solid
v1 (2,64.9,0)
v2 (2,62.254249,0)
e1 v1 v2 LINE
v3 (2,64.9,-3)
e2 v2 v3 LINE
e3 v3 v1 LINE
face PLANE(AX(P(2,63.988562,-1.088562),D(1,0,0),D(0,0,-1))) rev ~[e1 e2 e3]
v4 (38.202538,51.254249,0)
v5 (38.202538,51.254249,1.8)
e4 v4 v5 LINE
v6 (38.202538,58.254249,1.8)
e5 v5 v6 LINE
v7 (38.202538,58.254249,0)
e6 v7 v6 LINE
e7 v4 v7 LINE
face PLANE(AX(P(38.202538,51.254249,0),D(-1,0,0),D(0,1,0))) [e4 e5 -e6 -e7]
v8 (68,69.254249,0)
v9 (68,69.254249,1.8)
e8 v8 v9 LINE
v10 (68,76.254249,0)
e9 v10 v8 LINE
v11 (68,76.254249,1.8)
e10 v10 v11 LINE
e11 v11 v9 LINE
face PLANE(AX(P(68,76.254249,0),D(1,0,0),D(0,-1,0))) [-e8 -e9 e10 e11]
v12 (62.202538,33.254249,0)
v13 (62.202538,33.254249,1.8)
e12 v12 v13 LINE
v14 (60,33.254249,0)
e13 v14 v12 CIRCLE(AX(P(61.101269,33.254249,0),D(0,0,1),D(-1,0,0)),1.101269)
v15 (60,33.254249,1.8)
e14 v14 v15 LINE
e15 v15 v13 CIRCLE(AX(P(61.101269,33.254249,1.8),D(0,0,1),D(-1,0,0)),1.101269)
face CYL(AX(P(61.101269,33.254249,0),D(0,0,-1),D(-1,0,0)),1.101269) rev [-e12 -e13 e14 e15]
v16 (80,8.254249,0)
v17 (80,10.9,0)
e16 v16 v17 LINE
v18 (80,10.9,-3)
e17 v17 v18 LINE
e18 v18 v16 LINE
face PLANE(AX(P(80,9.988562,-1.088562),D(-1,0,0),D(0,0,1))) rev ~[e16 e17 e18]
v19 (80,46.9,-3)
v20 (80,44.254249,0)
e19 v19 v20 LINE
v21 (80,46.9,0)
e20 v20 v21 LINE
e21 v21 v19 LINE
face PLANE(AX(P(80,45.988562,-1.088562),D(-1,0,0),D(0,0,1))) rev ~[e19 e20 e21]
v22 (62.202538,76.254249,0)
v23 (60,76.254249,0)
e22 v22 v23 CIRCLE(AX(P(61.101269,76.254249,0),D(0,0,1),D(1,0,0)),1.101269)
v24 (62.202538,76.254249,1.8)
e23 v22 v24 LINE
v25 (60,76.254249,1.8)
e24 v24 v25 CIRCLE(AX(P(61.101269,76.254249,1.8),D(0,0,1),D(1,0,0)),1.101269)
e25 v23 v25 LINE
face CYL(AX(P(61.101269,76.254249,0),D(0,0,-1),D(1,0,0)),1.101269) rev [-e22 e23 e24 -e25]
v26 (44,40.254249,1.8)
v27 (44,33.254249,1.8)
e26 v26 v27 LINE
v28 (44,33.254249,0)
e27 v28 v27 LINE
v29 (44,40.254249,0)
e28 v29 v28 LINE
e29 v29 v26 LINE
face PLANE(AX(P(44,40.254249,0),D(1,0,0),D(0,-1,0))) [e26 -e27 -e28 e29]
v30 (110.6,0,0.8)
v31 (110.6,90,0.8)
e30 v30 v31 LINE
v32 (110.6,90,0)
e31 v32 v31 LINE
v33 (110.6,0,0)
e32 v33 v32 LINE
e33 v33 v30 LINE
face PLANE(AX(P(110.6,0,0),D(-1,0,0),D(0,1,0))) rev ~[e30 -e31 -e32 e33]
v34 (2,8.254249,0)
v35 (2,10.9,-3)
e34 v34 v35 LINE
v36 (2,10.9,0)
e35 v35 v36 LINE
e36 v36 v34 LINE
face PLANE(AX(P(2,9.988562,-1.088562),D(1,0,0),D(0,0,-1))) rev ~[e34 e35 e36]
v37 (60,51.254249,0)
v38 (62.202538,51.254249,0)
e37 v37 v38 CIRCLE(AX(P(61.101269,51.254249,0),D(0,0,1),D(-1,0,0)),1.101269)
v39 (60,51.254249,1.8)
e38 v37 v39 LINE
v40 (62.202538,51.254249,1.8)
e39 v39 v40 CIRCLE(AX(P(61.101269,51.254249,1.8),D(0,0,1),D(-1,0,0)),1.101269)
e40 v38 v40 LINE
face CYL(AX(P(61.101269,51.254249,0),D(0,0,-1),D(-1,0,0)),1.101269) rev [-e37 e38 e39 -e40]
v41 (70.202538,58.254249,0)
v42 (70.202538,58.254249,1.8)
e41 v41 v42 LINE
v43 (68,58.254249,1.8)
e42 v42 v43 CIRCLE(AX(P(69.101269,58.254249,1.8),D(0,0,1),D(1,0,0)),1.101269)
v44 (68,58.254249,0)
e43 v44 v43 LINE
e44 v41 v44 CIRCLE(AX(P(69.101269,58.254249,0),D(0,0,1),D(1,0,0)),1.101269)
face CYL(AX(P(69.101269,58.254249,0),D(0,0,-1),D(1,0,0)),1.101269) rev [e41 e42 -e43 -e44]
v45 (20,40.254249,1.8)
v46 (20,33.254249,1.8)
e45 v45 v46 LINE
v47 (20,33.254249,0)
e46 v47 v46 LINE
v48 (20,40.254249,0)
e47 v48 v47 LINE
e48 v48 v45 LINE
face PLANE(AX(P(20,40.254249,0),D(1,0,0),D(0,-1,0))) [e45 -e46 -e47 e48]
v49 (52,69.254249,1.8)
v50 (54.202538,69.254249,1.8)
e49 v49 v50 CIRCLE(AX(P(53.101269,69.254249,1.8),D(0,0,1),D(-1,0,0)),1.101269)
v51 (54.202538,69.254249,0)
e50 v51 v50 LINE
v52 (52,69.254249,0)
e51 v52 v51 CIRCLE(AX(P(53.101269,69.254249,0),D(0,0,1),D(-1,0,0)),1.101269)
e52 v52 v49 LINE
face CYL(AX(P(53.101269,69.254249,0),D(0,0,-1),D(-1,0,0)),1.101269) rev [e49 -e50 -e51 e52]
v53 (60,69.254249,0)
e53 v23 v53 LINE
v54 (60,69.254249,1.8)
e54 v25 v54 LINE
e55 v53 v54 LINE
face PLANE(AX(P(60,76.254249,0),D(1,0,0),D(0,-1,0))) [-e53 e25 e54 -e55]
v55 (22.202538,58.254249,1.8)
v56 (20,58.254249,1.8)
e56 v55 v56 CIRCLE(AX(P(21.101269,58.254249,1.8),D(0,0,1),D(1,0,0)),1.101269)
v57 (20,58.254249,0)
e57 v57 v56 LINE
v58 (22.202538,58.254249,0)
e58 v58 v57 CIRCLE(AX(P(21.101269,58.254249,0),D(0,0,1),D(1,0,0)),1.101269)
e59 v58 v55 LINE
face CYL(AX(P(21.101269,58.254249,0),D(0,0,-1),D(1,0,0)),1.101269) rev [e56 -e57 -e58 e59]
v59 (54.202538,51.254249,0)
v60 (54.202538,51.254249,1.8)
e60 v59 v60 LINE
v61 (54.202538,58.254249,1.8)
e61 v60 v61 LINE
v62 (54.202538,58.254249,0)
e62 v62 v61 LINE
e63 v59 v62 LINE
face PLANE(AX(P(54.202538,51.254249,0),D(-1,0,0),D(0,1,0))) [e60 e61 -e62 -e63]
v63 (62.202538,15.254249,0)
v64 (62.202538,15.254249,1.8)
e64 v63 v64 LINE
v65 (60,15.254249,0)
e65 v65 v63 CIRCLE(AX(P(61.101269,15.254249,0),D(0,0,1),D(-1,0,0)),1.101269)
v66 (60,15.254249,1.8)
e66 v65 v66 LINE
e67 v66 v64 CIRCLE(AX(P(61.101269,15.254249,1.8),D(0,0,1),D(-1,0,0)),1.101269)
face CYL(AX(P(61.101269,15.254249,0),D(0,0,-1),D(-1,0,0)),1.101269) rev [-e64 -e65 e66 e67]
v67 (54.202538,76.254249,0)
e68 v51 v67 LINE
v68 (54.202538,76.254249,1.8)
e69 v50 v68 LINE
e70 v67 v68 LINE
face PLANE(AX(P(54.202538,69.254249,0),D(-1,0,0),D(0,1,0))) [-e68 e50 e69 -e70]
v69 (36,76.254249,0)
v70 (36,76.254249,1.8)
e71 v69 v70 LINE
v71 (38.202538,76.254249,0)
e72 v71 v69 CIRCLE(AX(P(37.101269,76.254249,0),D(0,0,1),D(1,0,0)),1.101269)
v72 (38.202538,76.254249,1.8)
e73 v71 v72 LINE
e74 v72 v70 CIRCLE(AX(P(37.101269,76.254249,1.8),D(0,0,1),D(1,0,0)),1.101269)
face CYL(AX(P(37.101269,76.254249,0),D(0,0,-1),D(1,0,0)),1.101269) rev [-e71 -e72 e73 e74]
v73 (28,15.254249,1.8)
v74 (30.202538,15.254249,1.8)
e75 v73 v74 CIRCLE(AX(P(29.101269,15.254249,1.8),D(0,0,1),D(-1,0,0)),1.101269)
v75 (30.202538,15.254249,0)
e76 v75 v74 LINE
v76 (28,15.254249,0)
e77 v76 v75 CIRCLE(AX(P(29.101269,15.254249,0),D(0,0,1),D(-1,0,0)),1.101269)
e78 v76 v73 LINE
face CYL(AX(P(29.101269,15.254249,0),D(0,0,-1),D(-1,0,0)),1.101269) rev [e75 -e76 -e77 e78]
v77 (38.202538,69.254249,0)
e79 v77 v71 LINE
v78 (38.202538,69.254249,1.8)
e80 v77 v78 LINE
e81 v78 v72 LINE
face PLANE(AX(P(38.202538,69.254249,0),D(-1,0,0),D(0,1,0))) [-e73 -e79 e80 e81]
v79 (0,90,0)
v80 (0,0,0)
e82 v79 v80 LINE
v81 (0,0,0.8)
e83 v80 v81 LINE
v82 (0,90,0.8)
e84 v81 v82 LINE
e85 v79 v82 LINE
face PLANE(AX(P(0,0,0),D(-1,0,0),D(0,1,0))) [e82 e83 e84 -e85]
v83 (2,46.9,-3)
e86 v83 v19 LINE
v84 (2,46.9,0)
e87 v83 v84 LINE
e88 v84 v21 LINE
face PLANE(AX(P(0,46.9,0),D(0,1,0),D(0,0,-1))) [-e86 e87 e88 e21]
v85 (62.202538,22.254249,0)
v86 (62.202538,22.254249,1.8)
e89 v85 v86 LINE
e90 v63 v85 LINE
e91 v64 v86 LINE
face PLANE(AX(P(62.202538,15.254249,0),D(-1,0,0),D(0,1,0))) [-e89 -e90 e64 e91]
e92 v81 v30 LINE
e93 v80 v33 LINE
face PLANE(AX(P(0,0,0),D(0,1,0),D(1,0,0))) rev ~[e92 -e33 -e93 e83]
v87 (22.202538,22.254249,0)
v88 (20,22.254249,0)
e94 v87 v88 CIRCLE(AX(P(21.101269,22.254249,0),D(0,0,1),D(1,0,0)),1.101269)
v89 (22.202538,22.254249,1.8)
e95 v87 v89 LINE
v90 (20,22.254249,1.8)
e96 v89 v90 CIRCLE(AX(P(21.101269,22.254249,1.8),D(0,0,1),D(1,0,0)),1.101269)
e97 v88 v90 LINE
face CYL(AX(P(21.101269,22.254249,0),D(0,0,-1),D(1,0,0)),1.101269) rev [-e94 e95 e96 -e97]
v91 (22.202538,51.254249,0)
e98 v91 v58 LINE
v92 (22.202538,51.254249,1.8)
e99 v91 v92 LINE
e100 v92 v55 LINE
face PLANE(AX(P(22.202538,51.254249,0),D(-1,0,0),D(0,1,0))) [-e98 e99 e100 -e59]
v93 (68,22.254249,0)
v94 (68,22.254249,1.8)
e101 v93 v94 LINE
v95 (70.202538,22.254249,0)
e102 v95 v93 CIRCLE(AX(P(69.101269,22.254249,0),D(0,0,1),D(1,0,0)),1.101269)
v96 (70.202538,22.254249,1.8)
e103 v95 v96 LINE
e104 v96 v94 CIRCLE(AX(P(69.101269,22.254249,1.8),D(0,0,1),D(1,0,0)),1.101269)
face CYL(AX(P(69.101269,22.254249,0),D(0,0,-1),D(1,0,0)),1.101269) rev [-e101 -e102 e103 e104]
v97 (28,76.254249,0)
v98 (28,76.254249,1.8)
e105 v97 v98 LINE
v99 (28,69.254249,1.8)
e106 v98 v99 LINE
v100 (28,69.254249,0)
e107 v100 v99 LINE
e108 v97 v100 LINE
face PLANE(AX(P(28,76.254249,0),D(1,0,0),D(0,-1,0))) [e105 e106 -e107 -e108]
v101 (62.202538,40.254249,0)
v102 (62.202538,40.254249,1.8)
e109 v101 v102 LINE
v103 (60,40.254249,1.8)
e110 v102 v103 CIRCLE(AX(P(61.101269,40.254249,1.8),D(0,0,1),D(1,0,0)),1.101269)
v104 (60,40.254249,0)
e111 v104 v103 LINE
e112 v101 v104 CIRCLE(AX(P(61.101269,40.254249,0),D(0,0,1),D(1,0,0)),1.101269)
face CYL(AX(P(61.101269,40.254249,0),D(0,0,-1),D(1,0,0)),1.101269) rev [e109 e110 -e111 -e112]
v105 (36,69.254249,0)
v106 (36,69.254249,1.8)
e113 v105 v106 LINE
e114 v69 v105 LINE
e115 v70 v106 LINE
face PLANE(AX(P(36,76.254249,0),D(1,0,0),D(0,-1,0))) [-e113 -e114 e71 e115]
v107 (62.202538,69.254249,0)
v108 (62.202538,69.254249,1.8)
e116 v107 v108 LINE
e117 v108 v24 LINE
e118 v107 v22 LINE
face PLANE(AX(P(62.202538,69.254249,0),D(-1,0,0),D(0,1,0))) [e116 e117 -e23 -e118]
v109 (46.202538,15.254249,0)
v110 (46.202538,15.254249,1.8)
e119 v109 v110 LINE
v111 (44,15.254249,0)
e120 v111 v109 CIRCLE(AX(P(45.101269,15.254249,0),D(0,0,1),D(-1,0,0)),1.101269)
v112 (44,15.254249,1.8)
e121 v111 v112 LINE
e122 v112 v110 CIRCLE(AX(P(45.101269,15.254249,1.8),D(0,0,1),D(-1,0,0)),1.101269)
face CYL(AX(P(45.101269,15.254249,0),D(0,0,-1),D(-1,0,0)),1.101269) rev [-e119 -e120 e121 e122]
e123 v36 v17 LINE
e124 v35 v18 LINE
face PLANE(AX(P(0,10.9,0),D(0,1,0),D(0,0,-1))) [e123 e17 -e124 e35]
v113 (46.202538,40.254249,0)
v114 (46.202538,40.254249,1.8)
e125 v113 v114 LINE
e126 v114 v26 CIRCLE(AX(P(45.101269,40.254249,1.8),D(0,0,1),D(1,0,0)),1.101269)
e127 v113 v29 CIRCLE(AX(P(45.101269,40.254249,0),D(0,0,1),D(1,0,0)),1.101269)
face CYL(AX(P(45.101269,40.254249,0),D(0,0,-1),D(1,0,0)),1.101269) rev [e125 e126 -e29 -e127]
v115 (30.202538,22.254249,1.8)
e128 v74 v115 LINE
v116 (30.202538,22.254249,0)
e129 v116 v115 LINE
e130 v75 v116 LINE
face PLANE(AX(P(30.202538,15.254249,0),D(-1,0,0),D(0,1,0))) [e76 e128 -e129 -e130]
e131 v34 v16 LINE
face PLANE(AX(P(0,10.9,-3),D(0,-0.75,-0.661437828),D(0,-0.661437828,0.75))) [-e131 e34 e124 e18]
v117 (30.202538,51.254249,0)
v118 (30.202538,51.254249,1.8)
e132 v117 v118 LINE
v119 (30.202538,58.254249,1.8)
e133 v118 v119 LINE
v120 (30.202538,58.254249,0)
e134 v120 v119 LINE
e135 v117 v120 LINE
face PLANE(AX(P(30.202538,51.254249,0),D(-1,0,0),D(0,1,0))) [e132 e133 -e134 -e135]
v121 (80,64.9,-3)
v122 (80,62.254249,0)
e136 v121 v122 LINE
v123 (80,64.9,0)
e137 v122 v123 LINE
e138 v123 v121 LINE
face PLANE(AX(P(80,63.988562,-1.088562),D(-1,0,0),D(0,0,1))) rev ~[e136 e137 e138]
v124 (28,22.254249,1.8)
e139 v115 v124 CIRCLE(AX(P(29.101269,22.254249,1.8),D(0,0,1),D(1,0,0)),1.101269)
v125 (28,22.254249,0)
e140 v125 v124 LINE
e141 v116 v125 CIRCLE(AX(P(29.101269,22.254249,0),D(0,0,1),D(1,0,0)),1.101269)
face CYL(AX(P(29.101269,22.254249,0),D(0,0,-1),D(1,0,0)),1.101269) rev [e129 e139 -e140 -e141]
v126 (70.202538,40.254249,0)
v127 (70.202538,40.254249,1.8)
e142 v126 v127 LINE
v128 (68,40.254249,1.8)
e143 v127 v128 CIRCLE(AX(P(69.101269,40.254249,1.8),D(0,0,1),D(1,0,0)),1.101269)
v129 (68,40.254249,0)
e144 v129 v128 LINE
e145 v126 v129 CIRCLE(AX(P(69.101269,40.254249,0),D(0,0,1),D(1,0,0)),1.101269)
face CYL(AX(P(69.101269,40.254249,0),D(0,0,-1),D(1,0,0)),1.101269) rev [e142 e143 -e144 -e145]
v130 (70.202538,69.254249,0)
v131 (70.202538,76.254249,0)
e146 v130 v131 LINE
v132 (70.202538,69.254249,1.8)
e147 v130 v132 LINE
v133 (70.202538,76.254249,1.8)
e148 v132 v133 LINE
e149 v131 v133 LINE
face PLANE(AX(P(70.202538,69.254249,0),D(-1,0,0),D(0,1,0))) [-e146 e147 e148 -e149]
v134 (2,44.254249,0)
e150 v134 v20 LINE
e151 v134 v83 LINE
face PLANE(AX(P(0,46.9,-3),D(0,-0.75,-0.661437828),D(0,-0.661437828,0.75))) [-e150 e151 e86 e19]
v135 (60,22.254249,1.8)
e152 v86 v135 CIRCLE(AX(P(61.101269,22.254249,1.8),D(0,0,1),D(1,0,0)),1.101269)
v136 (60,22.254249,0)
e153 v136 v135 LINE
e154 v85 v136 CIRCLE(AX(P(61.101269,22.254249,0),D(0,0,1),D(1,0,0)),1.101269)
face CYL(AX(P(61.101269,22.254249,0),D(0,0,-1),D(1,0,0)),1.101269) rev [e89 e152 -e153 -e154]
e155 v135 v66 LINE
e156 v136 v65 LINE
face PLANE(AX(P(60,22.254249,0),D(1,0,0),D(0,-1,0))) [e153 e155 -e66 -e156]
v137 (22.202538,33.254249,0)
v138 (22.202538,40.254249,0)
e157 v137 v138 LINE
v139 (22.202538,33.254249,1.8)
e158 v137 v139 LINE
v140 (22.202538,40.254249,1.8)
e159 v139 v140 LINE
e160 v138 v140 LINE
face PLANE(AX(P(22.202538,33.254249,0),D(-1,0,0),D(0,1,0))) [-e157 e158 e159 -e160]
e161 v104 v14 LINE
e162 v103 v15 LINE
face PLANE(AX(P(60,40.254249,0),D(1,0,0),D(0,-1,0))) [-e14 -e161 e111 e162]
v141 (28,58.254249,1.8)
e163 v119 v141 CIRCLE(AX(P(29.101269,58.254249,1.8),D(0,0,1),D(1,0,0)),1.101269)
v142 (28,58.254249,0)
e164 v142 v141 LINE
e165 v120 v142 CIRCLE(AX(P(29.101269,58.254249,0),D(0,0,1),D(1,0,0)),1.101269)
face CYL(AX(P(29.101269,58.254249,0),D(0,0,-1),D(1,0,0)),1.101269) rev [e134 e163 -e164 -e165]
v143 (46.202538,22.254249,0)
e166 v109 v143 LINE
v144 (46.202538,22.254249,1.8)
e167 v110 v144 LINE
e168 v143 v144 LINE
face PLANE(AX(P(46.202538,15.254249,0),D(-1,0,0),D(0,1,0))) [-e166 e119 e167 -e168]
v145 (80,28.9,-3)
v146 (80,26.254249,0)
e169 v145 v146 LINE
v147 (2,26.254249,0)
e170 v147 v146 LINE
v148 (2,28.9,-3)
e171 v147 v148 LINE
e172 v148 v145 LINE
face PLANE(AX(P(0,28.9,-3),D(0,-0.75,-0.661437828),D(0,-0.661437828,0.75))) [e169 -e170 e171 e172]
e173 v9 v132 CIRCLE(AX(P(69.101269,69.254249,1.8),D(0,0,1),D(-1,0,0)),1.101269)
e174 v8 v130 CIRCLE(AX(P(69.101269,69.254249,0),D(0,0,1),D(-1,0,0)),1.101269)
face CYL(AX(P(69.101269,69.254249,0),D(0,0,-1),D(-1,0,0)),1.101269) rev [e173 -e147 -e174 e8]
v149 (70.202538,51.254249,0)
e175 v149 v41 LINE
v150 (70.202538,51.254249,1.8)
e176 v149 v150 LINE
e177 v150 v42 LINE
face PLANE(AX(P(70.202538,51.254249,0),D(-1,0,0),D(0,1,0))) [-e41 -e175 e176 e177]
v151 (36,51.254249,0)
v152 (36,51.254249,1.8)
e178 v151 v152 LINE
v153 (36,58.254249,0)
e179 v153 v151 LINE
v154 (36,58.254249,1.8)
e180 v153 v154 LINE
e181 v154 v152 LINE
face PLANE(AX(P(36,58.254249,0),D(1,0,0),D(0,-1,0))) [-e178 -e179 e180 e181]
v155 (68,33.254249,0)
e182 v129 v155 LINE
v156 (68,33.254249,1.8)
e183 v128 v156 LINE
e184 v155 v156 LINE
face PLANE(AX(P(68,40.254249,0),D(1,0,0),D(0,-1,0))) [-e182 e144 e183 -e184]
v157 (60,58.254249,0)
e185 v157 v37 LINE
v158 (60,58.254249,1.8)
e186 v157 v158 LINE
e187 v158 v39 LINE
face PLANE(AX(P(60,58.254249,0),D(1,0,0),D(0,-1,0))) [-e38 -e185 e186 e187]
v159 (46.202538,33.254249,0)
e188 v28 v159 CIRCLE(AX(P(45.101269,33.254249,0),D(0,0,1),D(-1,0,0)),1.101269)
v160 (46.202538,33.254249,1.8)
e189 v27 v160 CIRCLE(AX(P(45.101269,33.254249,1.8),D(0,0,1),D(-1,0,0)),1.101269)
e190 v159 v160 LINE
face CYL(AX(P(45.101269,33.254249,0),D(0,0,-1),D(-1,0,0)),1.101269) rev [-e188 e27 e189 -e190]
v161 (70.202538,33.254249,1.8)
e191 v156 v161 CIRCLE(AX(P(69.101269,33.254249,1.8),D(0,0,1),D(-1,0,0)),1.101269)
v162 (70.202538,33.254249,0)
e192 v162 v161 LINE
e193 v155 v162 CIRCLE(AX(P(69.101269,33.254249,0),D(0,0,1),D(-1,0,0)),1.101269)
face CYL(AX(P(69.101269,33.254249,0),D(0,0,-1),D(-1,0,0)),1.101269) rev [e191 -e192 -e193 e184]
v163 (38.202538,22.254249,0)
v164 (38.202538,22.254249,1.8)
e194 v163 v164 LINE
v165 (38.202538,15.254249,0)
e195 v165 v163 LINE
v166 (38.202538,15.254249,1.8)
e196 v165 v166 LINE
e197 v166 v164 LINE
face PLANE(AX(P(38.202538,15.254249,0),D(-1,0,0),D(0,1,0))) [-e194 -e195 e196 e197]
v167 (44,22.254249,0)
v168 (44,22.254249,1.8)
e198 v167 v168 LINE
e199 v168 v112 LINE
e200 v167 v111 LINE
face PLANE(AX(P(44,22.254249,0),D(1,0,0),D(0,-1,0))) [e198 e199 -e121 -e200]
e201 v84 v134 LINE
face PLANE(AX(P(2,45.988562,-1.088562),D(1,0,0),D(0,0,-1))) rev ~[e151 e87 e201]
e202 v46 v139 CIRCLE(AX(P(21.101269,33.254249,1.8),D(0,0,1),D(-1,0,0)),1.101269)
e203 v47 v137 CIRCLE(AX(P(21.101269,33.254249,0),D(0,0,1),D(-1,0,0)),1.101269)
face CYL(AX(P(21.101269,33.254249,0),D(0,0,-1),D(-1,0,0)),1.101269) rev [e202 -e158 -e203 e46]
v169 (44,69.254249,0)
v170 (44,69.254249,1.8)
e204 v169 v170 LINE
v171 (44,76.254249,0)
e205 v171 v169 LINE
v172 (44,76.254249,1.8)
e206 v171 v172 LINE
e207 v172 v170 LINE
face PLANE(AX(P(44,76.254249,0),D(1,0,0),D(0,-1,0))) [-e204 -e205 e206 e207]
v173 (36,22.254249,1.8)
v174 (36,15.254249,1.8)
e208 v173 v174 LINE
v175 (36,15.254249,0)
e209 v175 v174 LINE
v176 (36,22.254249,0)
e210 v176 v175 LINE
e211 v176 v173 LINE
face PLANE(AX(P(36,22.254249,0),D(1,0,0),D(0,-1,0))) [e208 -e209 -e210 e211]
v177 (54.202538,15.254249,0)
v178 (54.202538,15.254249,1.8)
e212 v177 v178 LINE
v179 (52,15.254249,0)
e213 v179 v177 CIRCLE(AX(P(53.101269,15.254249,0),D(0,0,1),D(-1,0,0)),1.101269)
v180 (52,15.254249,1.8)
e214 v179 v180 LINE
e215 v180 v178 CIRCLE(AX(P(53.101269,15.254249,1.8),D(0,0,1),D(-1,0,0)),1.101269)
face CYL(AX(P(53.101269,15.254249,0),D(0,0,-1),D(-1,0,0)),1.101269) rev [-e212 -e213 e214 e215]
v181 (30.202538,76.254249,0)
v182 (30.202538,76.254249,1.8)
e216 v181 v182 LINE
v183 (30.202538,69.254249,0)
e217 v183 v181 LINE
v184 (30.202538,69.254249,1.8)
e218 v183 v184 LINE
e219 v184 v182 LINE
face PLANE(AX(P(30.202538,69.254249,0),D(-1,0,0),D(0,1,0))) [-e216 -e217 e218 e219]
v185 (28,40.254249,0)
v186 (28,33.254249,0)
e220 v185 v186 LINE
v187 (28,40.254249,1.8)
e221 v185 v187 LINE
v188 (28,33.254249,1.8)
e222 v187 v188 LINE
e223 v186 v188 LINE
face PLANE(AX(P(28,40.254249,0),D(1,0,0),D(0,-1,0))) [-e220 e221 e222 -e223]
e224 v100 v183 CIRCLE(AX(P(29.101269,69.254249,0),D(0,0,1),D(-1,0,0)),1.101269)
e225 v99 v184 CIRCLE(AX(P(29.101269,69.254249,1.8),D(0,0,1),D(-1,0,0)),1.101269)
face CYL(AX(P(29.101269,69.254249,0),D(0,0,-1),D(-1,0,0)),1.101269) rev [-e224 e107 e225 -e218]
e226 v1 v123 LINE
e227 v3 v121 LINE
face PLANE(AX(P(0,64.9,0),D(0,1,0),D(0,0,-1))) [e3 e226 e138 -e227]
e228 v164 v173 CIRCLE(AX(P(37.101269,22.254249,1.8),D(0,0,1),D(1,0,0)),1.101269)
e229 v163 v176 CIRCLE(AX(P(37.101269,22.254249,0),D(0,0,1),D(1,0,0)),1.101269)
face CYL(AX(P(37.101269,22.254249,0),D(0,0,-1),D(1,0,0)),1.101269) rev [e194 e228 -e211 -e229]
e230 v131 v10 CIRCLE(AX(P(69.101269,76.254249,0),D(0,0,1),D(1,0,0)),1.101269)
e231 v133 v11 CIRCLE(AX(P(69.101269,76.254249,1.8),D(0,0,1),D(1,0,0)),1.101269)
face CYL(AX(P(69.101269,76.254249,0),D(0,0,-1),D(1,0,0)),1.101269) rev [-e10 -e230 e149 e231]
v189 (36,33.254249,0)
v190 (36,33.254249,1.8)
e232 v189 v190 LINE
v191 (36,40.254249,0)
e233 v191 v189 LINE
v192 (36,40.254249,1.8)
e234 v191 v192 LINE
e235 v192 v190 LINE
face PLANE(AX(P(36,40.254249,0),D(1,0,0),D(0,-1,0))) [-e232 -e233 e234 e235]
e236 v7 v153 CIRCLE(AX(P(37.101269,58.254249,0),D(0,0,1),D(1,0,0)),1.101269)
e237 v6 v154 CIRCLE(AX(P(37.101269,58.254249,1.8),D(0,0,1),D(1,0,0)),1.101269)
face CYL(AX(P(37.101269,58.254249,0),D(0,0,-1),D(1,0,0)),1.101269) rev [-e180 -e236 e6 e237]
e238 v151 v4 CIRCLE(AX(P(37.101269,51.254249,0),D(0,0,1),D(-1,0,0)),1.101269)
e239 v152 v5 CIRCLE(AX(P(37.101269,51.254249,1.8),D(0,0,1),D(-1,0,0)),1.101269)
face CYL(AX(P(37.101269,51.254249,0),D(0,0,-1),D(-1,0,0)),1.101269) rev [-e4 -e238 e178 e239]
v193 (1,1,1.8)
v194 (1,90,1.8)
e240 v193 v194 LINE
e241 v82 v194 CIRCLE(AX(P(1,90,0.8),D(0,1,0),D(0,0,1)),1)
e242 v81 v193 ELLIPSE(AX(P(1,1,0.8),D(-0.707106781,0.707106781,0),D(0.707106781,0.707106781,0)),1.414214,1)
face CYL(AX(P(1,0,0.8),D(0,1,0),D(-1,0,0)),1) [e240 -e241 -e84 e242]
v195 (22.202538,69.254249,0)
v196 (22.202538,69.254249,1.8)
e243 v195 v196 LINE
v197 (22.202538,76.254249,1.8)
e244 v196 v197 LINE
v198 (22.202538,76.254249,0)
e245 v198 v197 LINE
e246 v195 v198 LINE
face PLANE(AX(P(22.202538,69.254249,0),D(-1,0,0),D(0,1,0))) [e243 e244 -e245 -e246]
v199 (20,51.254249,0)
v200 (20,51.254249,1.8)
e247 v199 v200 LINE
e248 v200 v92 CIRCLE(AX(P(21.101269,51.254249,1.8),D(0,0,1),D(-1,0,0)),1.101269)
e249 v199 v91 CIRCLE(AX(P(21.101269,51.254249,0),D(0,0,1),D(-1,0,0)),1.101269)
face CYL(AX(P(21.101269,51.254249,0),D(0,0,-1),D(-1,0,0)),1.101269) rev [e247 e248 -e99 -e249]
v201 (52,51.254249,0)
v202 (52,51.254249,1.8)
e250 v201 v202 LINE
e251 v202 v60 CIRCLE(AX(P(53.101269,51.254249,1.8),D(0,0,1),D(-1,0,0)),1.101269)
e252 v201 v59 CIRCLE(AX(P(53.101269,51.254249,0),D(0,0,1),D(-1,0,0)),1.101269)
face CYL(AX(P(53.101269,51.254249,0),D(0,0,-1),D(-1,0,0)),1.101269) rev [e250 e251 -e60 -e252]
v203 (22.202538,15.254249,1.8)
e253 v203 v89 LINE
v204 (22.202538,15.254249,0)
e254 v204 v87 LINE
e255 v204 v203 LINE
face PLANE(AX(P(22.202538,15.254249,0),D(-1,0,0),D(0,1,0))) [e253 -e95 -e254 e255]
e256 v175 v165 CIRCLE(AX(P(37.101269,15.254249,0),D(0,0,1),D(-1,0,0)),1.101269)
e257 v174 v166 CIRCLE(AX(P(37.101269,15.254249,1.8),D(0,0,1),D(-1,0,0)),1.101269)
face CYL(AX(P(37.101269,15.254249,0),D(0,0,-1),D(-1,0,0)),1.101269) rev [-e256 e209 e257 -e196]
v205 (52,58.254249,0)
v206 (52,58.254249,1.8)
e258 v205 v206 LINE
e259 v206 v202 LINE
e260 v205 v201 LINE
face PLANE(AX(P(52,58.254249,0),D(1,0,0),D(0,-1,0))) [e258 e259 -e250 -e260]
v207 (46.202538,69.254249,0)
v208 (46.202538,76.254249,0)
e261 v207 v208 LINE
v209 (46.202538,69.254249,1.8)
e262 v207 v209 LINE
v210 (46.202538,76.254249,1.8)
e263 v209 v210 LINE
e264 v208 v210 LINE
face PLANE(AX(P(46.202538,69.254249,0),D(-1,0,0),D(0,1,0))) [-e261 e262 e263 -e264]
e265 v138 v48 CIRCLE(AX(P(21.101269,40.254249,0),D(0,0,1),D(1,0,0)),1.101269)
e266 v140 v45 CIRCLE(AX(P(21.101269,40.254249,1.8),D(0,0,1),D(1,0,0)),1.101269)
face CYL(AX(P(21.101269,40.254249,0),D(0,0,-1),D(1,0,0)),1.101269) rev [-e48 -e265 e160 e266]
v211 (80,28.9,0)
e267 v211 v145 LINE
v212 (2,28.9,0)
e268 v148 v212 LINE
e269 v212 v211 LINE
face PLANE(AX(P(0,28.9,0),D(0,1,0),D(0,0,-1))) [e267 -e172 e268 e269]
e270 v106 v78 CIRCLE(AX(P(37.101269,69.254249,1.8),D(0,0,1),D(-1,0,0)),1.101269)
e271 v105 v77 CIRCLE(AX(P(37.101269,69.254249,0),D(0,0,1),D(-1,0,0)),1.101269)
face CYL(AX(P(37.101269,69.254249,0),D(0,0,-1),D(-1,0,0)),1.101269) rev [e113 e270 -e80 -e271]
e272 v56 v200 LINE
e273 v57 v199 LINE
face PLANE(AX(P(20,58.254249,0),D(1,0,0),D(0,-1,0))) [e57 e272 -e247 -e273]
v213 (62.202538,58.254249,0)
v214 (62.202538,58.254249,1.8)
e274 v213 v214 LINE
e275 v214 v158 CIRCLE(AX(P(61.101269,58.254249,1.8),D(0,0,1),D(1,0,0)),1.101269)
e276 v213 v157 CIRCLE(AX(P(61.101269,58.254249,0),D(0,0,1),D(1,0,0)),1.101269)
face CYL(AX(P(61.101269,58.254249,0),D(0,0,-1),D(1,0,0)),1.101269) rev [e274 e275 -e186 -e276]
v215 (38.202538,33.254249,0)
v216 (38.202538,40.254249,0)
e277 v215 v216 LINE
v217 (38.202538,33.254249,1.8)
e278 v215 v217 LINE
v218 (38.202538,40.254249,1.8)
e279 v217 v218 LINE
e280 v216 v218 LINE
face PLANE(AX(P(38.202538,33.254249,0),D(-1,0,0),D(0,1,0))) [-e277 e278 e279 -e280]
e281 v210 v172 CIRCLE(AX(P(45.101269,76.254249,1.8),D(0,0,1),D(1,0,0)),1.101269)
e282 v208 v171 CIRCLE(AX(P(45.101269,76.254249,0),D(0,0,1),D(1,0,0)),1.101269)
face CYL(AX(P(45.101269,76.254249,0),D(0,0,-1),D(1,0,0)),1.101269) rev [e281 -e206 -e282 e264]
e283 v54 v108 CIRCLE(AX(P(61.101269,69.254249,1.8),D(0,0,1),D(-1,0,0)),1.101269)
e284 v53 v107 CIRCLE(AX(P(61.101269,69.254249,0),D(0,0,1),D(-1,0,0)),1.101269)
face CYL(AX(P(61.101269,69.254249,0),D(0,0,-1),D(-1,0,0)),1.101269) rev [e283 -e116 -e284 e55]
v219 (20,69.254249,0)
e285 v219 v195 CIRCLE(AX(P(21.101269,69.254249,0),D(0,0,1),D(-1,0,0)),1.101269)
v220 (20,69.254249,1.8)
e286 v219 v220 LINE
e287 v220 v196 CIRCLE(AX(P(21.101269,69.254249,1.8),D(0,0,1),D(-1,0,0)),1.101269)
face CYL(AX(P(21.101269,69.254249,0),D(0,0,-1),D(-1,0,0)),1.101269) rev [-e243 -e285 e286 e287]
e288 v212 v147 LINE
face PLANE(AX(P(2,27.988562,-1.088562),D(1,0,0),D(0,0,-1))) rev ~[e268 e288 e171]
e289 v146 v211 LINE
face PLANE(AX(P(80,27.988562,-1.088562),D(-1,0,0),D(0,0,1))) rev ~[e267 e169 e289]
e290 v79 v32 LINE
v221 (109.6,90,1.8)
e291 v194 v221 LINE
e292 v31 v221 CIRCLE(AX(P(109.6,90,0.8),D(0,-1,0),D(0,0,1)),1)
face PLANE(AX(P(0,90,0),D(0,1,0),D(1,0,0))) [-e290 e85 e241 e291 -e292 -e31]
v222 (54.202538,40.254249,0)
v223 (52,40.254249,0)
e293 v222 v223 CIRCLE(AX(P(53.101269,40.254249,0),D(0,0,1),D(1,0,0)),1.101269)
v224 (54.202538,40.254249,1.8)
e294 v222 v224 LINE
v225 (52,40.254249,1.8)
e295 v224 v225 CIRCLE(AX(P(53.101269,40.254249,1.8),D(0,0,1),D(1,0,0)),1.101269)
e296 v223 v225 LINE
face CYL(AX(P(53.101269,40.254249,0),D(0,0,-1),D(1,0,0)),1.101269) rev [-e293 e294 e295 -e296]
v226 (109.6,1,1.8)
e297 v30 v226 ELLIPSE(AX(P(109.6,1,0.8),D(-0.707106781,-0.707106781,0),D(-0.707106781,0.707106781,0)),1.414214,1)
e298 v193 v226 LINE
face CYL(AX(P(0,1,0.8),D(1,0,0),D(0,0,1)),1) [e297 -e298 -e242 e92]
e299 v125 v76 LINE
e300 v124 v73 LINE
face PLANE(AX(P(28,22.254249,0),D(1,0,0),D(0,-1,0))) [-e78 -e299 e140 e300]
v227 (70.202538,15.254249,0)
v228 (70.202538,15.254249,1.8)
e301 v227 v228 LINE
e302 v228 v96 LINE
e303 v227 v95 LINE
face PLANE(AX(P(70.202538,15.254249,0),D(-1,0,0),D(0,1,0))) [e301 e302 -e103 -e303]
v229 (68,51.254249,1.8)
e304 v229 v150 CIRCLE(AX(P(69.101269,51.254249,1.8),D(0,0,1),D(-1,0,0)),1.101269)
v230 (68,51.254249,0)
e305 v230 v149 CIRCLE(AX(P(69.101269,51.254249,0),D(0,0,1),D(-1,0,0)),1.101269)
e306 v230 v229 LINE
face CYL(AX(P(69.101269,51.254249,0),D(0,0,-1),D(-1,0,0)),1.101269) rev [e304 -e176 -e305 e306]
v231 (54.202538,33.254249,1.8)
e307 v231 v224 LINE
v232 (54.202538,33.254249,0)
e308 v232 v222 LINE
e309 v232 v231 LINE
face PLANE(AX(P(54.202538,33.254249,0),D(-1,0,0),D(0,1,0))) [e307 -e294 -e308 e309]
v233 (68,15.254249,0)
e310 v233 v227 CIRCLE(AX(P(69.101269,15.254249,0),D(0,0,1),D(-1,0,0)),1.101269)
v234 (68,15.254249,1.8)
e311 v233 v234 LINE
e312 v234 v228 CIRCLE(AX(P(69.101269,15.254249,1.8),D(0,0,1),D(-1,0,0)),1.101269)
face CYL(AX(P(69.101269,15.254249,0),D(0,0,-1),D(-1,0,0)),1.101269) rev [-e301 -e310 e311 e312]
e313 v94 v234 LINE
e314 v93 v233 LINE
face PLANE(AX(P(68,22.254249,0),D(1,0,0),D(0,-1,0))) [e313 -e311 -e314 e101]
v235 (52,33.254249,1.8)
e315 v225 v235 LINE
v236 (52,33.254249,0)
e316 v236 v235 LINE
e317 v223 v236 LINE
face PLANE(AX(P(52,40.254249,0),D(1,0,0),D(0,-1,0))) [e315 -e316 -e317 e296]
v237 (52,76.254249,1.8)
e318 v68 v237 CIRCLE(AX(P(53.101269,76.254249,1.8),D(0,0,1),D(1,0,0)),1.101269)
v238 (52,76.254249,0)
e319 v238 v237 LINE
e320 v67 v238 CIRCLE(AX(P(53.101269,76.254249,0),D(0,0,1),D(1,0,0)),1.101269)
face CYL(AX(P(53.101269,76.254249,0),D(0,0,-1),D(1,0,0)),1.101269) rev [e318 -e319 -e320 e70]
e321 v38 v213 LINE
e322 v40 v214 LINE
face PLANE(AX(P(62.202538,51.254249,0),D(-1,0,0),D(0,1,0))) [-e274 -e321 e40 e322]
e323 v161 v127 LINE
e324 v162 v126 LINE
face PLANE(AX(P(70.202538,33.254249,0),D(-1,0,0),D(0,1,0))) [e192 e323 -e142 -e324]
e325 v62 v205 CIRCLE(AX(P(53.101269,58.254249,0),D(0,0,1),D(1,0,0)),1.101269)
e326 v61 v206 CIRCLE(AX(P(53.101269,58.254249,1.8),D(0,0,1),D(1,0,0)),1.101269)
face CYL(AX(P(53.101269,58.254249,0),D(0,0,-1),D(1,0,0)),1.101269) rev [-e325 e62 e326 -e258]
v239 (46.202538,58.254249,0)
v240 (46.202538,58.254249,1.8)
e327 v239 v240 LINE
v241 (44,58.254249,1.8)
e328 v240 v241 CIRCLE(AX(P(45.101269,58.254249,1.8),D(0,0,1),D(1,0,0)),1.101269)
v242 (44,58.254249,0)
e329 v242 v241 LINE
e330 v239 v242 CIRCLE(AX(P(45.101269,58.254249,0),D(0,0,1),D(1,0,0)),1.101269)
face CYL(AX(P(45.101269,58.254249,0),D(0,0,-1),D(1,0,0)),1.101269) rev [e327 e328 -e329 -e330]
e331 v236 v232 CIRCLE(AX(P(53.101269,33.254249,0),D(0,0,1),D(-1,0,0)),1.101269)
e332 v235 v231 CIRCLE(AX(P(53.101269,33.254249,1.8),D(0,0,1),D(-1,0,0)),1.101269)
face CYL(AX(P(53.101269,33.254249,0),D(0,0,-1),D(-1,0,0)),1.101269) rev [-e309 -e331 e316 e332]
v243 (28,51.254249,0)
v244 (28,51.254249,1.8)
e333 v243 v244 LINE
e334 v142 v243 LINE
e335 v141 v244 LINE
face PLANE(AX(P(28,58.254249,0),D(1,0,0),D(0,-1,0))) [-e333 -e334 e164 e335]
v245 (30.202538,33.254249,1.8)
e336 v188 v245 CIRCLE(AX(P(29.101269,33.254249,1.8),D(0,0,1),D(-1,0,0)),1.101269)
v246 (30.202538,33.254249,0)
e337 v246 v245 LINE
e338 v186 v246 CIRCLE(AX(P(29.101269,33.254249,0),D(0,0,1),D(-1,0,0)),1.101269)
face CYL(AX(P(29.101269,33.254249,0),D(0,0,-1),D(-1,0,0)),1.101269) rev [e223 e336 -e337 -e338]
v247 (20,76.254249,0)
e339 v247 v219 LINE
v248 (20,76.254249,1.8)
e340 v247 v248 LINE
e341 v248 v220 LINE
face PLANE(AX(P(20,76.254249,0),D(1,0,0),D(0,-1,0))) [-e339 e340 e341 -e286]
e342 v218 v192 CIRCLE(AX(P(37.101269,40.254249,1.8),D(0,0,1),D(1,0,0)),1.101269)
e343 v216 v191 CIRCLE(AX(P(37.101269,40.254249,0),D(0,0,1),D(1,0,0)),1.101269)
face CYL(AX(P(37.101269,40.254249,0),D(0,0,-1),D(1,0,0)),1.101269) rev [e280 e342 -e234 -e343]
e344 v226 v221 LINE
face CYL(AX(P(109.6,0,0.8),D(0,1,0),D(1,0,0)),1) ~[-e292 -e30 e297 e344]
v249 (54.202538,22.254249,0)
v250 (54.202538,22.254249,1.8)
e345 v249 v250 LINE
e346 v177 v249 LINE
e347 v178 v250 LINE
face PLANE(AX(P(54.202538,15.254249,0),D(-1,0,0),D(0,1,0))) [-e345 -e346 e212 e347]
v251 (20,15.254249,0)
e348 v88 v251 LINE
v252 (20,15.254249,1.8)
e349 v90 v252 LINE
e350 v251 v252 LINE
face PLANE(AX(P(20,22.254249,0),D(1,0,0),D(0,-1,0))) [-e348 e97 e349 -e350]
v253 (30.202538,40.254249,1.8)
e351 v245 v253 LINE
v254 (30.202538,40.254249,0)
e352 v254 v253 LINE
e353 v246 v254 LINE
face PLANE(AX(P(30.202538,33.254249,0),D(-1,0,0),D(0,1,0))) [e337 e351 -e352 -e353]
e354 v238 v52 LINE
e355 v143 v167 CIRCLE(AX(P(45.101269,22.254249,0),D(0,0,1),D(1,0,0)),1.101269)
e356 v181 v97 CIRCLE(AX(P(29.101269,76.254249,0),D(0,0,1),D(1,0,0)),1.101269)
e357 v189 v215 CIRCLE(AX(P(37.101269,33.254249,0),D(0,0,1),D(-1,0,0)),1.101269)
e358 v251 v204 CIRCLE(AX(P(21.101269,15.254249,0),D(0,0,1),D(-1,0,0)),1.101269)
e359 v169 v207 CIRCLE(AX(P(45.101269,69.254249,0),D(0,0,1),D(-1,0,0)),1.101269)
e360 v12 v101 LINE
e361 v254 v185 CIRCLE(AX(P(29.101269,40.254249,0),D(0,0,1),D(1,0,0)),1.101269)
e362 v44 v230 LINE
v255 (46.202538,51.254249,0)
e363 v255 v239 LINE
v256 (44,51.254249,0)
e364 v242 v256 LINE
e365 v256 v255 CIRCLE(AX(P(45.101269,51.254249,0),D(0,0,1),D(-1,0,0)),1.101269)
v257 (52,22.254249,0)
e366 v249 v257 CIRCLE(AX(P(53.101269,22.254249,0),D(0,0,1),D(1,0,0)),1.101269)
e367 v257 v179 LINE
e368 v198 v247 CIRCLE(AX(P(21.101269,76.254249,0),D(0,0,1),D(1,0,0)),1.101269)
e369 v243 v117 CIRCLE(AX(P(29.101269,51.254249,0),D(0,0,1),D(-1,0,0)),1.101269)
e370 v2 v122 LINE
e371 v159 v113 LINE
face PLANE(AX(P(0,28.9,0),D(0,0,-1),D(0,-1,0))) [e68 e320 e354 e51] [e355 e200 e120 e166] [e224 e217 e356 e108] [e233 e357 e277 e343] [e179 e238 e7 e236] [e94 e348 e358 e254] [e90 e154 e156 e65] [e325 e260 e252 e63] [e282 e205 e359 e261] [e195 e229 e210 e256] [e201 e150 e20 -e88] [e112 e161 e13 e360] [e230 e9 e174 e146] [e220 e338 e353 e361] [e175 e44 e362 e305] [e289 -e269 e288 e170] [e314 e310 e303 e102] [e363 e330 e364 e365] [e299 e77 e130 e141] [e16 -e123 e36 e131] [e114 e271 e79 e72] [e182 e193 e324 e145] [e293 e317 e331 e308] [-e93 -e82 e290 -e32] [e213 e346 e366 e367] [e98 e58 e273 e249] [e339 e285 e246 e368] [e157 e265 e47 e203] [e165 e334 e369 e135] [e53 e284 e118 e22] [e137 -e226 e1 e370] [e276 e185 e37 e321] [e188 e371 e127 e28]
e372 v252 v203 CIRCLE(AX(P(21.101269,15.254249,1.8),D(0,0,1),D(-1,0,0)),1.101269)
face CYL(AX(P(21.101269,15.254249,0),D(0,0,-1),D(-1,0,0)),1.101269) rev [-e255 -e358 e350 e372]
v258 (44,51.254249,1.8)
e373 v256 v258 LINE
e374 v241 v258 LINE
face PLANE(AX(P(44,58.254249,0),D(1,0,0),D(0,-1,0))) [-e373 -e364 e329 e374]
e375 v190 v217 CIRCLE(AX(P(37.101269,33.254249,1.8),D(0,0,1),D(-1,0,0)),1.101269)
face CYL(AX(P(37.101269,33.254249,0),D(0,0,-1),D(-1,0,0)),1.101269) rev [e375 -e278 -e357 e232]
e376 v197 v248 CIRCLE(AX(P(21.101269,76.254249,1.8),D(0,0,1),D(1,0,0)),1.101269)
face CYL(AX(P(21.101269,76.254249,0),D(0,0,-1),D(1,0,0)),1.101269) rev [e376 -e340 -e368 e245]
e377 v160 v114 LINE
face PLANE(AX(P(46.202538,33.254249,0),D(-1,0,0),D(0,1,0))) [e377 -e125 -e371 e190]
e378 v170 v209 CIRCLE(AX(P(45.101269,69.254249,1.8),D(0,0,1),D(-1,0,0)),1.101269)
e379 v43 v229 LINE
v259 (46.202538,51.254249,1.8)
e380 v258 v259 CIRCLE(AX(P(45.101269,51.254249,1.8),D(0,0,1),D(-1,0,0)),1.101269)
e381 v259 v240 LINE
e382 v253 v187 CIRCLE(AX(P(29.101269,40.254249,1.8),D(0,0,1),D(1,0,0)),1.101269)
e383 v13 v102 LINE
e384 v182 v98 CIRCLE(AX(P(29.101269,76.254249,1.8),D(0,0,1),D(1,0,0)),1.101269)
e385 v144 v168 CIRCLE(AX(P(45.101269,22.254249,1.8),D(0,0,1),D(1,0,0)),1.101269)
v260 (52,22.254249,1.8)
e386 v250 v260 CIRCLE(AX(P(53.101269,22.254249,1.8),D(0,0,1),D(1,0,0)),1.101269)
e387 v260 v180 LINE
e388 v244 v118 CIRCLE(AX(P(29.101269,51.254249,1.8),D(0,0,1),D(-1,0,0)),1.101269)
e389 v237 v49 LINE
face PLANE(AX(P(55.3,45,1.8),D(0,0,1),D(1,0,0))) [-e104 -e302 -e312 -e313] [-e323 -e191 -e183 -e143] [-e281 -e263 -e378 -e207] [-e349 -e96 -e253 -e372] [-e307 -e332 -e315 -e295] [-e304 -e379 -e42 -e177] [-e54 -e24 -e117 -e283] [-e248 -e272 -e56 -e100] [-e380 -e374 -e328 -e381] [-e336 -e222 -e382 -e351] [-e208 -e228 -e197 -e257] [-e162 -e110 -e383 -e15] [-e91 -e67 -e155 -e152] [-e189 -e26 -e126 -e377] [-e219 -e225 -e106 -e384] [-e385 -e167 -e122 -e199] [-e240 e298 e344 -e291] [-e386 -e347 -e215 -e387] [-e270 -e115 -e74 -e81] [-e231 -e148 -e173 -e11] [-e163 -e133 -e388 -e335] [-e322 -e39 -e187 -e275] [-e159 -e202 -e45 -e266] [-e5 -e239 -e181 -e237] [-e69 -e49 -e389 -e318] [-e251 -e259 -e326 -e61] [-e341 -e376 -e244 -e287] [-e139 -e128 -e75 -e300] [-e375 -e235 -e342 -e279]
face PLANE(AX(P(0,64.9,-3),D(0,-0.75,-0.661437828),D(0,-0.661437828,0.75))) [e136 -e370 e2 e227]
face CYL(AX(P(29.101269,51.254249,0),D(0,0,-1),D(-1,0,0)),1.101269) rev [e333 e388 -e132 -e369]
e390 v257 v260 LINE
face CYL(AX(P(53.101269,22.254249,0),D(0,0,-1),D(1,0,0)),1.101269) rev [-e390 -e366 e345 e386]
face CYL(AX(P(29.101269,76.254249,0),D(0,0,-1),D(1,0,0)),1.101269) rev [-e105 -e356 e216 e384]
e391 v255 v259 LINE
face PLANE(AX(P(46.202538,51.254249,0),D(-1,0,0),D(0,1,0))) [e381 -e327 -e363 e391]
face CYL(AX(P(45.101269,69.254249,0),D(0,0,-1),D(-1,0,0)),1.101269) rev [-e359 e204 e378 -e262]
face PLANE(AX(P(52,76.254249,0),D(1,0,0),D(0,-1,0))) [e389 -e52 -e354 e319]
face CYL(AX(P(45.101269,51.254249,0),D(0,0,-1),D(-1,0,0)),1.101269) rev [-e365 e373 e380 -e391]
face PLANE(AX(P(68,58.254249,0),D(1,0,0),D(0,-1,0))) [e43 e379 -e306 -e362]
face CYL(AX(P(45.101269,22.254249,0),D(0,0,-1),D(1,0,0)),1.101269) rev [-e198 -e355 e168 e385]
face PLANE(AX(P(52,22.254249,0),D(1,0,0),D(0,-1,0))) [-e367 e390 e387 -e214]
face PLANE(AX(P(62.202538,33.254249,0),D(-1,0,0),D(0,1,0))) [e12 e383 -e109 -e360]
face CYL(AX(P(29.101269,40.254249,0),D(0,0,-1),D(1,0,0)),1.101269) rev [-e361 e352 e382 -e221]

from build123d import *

# Parameters (mm, degrees)
SKETCH_FOR_THE_MAIN_SHAPE_W                    = 110.6
SKETCH_FOR_THE_MAIN_SHAPE_H                    = 90
MAIN_SHAPE_DEPTH                               = 1.8
RAILINGS_FOR_THE_PCB_DEPTH                     = 80
PATTERN_THE_THE_RAILINGS_COUNT                 = 4
PATTERN_THE_THE_RAILINGS_PITCH                 = 18
AIR_VENTS_DEPTH                                = 1.8
PATTERN_ALONG_X_AXIS_FOR_THE_VENT_COUNT        = 7
PATTERN_ALONG_X_AXIS_FOR_THE_VENT_PITCH        = 8
PATTERN_ALONG_Y_AXIS_FOR_THE_VENT_COUNT        = 4
PATTERN_ALONG_Y_AXIS_FOR_THE_VENT_PITCH        = 18
PATTERN_ALONG_Y_AXIS_FOR_THE_VENT_CO_2_DEPTH   = 1.8
PATTERN_ALONG_Y_AXIS_FOR_THE_VENT_CO_3_DEPTH   = 1.8
PATTERN_ALONG_Y_AXIS_FOR_THE_VENT_CO_4_DEPTH   = 1.8
PATTERN_ALONG_Y_AXIS_FOR_THE_VENT_CO_5_DEPTH   = 1.8
PATTERN_ALONG_Y_AXIS_FOR_THE_VENT_CO_6_DEPTH   = 1.8
PATTERN_ALONG_Y_AXIS_FOR_THE_VENT_CO_7_DEPTH   = 1.8
PATTERN_ALONG_Y_AXIS_FOR_THE_VENT_CO_8_DEPTH   = 1.8
PATTERN_ALONG_Y_AXIS_FOR_THE_VENT_CO_9_DEPTH   = 1.8
PATTERN_ALONG_Y_AXIS_FOR_THE_VENT_CO_10_DEPTH  = 1.8
PATTERN_ALONG_Y_AXIS_FOR_THE_VENT_CO_12_DEPTH  = 1.8
PATTERN_ALONG_Y_AXIS_FOR_THE_VENT_CO_14_DEPTH  = 1.8
PATTERN_ALONG_Y_AXIS_FOR_THE_VENT_CO_16_DEPTH  = 1.8
PATTERN_ALONG_Y_AXIS_FOR_THE_VENT_CO_18_DEPTH  = 1.8
PATTERN_ALONG_Y_AXIS_FOR_THE_VENT_CO_20_DEPTH  = 1.8
PATTERN_ALONG_Y_AXIS_FOR_THE_VENT_CO_22_DEPTH  = 1.8
PATTERN_ALONG_Y_AXIS_FOR_THE_VENT_CO_24_DEPTH  = 1.8
PATTERN_ALONG_Y_AXIS_FOR_THE_VENT_CO_26_DEPTH  = 1.8
PATTERN_ALONG_Y_AXIS_FOR_THE_VENT_CO_28_DEPTH  = 1.8
SMALL_GAP_BETWEEN_THE_EDGE_AND_THE_RAILI_DEPTH = 2
PATTERN_FOR_TH_SMALL_GAP_COUNT                 = 4
PATTERN_FOR_TH_SMALL_GAP_PITCH                 = 18
FILLETS_R                                      = 1


with BuildPart() as part:
    # Sketch for the main shape → Main Shape (new body)
    with BuildSketch(Plane.XY):
        with Locations((55.3, 45)):
            Rectangle(SKETCH_FOR_THE_MAIN_SHAPE_W, SKETCH_FOR_THE_MAIN_SHAPE_H)
    extrude(amount=MAIN_SHAPE_DEPTH)

    # Sketch for the railings → Railings for the PCB (add)
    with BuildSketch(Plane(origin=(0, 0, 0), x_dir=(0, 0, -1), z_dir=(1, 0, 0))):
        Polygon((0, 10.9), (3, 10.9), (0, 8.254248689), align=None)
    railings_for_the_pcb = extrude(amount=RAILINGS_FOR_THE_PCB_DEPTH)

    # Pattern the the railings: Railings for the PCB ×4
    with Locations(*[(0, i * PATTERN_THE_THE_RAILINGS_PITCH, 0) for i in range(1, PATTERN_THE_THE_RAILINGS_COUNT)]):
        add(railings_for_the_pcb)

    # Sketch for the air vents → Air vents (cut)
    with BuildSketch(Plane(origin=(0, 0, 0), x_dir=(-1, 0, 0), z_dir=(0, 0, -1))):
        with BuildLine():
            Line((-20, 22.254248689), (-20, 15.254248689))
            ThreePointArc((-20, 15.254248689), (-21.101269167, 14.152979522), (-22.202538334, 15.254248689))
            Line((-22.202538334, 15.254248689), (-22.202538334, 22.254248689))
            ThreePointArc((-22.202538334, 22.254248689), (-21.101269167, 23.355517856), (-20, 22.254248689))
        make_face()
    air_vents = extrude(amount=-AIR_VENTS_DEPTH, mode=Mode.SUBTRACT)

    # pattern along x axis for the vent: Air vents ×7
    with Locations(*[(i * PATTERN_ALONG_X_AXIS_FOR_THE_VENT_PITCH, 0, 0) for i in range(1, PATTERN_ALONG_X_AXIS_FOR_THE_VENT_COUNT)]):
        add(air_vents, mode=Mode.SUBTRACT)

    # pattern along y axis for the vent: Air vents ×4
    with Locations(*[(0, i * PATTERN_ALONG_Y_AXIS_FOR_THE_VENT_PITCH, 0) for i in range(1, PATTERN_ALONG_Y_AXIS_FOR_THE_VENT_COUNT)]):
        add(air_vents, mode=Mode.SUBTRACT)

    # pattern along y axis for the vent copy 1 → pattern along y axis for the vent co 2 (cut)
    with BuildSketch(Plane(origin=(8, 18, 0), x_dir=(-1, 0, 0), z_dir=(0, 0, -1))):
        with BuildLine():
            Line((-20, 22.254248689), (-20, 15.254248689))
            ThreePointArc((-20, 15.254248689), (-21.101269167, 14.152979522), (-22.202538334, 15.254248689))
            Line((-22.202538334, 15.254248689), (-22.202538334, 22.254248689))
            ThreePointArc((-22.202538334, 22.254248689), (-21.101269167, 23.355517856), (-20, 22.254248689))
        make_face()
    extrude(amount=-PATTERN_ALONG_Y_AXIS_FOR_THE_VENT_CO_2_DEPTH, mode=Mode.SUBTRACT)

    # pattern along y axis for the vent copy 2 → pattern along y axis for the vent co 3 (cut)
    with BuildSketch(Plane(origin=(8, 36, 0), x_dir=(-1, 0, 0), z_dir=(0, 0, -1))):
        with BuildLine():
            Line((-20, 22.254248689), (-20, 15.254248689))
            ThreePointArc((-20, 15.254248689), (-21.101269167, 14.152979522), (-22.202538334, 15.254248689))
            Line((-22.202538334, 15.254248689), (-22.202538334, 22.254248689))
            ThreePointArc((-22.202538334, 22.254248689), (-21.101269167, 23.355517856), (-20, 22.254248689))
        make_face()
    extrude(amount=-PATTERN_ALONG_Y_AXIS_FOR_THE_VENT_CO_3_DEPTH, mode=Mode.SUBTRACT)

    # pattern along y axis for the vent copy 3 → pattern along y axis for the vent co 4 (cut)
    with BuildSketch(Plane(origin=(8, 54, 0), x_dir=(-1, 0, 0), z_dir=(0, 0, -1))):
        with BuildLine():
            Line((-20, 22.254248689), (-20, 15.254248689))
            ThreePointArc((-20, 15.254248689), (-21.101269167, 14.152979522), (-22.202538334, 15.254248689))
            Line((-22.202538334, 15.254248689), (-22.202538334, 22.254248689))
            ThreePointArc((-22.202538334, 22.254248689), (-21.101269167, 23.355517856), (-20, 22.254248689))
        make_face()
    extrude(amount=-PATTERN_ALONG_Y_AXIS_FOR_THE_VENT_CO_4_DEPTH, mode=Mode.SUBTRACT)

    # pattern along y axis for the vent copy 4 → pattern along y axis for the vent co 5 (cut)
    with BuildSketch(Plane(origin=(16, 18, 0), x_dir=(-1, 0, 0), z_dir=(0, 0, -1))):
        with BuildLine():
            Line((-20, 22.254248689), (-20, 15.254248689))
            ThreePointArc((-20, 15.254248689), (-21.101269167, 14.152979522), (-22.202538334, 15.254248689))
            Line((-22.202538334, 15.254248689), (-22.202538334, 22.254248689))
            ThreePointArc((-22.202538334, 22.254248689), (-21.101269167, 23.355517856), (-20, 22.254248689))
        make_face()
    extrude(amount=-PATTERN_ALONG_Y_AXIS_FOR_THE_VENT_CO_5_DEPTH, mode=Mode.SUBTRACT)

    # pattern along y axis for the vent copy 5 → pattern along y axis for the vent co 6 (cut)
    with BuildSketch(Plane(origin=(16, 36, 0), x_dir=(-1, 0, 0), z_dir=(0, 0, -1))):
        with BuildLine():
            Line((-20, 22.254248689), (-20, 15.254248689))
            ThreePointArc((-20, 15.254248689), (-21.101269167, 14.152979522), (-22.202538334, 15.254248689))
            Line((-22.202538334, 15.254248689), (-22.202538334, 22.254248689))
            ThreePointArc((-22.202538334, 22.254248689), (-21.101269167, 23.355517856), (-20, 22.254248689))
        make_face()
    extrude(amount=-PATTERN_ALONG_Y_AXIS_FOR_THE_VENT_CO_6_DEPTH, mode=Mode.SUBTRACT)

    # pattern along y axis for the vent copy 6 → pattern along y axis for the vent co 7 (cut)
    with BuildSketch(Plane(origin=(16, 54, 0), x_dir=(-1, 0, 0), z_dir=(0, 0, -1))):
        with BuildLine():
            Line((-20, 22.254248689), (-20, 15.254248689))
            ThreePointArc((-20, 15.254248689), (-21.101269167, 14.152979522), (-22.202538334, 15.254248689))
            Line((-22.202538334, 15.254248689), (-22.202538334, 22.254248689))
            ThreePointArc((-22.202538334, 22.254248689), (-21.101269167, 23.355517856), (-20, 22.254248689))
        make_face()
    extrude(amount=-PATTERN_ALONG_Y_AXIS_FOR_THE_VENT_CO_7_DEPTH, mode=Mode.SUBTRACT)

    # pattern along y axis for the vent copy 7 → pattern along y axis for the vent co 8 (cut)
    with BuildSketch(Plane(origin=(24, 18, 0), x_dir=(-1, 0, 0), z_dir=(0, 0, -1))):
        with BuildLine():
            Line((-20, 22.254248689), (-20, 15.254248689))
            ThreePointArc((-20, 15.254248689), (-21.101269167, 14.152979522), (-22.202538334, 15.254248689))
            Line((-22.202538334, 15.254248689), (-22.202538334, 22.254248689))
            ThreePointArc((-22.202538334, 22.254248689), (-21.101269167, 23.355517856), (-20, 22.254248689))
        make_face()
    extrude(amount=-PATTERN_ALONG_Y_AXIS_FOR_THE_VENT_CO_8_DEPTH, mode=Mode.SUBTRACT)

    # pattern along y axis for the vent copy 8 → pattern along y axis for the vent co 9 (cut)
    with BuildSketch(Plane(origin=(24, 36, 0), x_dir=(-1, 0, 0), z_dir=(0, 0, -1))):
        with BuildLine():
            Line((-20, 22.254248689), (-20, 15.254248689))
            ThreePointArc((-20, 15.254248689), (-21.101269167, 14.152979522), (-22.202538334, 15.254248689))
            Line((-22.202538334, 15.254248689), (-22.202538334, 22.254248689))
            ThreePointArc((-22.202538334, 22.254248689), (-21.101269167, 23.355517856), (-20, 22.254248689))
        make_face()
    extrude(amount=-PATTERN_ALONG_Y_AXIS_FOR_THE_VENT_CO_9_DEPTH, mode=Mode.SUBTRACT)

    # pattern along y axis for the vent copy 9 → pattern along y axis for the vent co 10 (cut)
    with BuildSketch(Plane(origin=(24, 54, 0), x_dir=(-1, 0, 0), z_dir=(0, 0, -1))):
        with BuildLine():
            Line((-20, 22.254248689), (-20, 15.254248689))
            ThreePointArc((-20, 15.254248689), (-21.101269167, 14.152979522), (-22.202538334, 15.254248689))
            Line((-22.202538334, 15.254248689), (-22.202538334, 22.254248689))
            ThreePointArc((-22.202538334, 22.254248689), (-21.101269167, 23.355517856), (-20, 22.254248689))
        make_face()
    extrude(amount=-PATTERN_ALONG_Y_AXIS_FOR_THE_VENT_CO_10_DEPTH, mode=Mode.SUBTRACT)

    # pattern along y axis for the vent co 11 → pattern along y axis for the vent co 12 (cut)
    with BuildSketch(Plane(origin=(32, 18, 0), x_dir=(-1, 0, 0), z_dir=(0, 0, -1))):
        with BuildLine():
            Line((-20, 22.254248689), (-20, 15.254248689))
            ThreePointArc((-20, 15.254248689), (-21.101269167, 14.152979522), (-22.202538334, 15.254248689))
            Line((-22.202538334, 15.254248689), (-22.202538334, 22.254248689))
            ThreePointArc((-22.202538334, 22.254248689), (-21.101269167, 23.355517856), (-20, 22.254248689))
        make_face()
    extrude(amount=-PATTERN_ALONG_Y_AXIS_FOR_THE_VENT_CO_12_DEPTH, mode=Mode.SUBTRACT)

    # pattern along y axis for the vent co 13 → pattern along y axis for the vent co 14 (cut)
    with BuildSketch(Plane(origin=(32, 36, 0), x_dir=(-1, 0, 0), z_dir=(0, 0, -1))):
        with BuildLine():
            Line((-20, 22.254248689), (-20, 15.254248689))
            ThreePointArc((-20, 15.254248689), (-21.101269167, 14.152979522), (-22.202538334, 15.254248689))
            Line((-22.202538334, 15.254248689), (-22.202538334, 22.254248689))
            ThreePointArc((-22.202538334, 22.254248689), (-21.101269167, 23.355517856), (-20, 22.254248689))
        make_face()
    extrude(amount=-PATTERN_ALONG_Y_AXIS_FOR_THE_VENT_CO_14_DEPTH, mode=Mode.SUBTRACT)

    # pattern along y axis for the vent co 15 → pattern along y axis for the vent co 16 (cut)
    with BuildSketch(Plane(origin=(32, 54, 0), x_dir=(-1, 0, 0), z_dir=(0, 0, -1))):
        with BuildLine():
            Line((-20, 22.254248689), (-20, 15.254248689))
            ThreePointArc((-20, 15.254248689), (-21.101269167, 14.152979522), (-22.202538334, 15.254248689))
            Line((-22.202538334, 15.254248689), (-22.202538334, 22.254248689))
            ThreePointArc((-22.202538334, 22.254248689), (-21.101269167, 23.355517856), (-20, 22.254248689))
        make_face()
    extrude(amount=-PATTERN_ALONG_Y_AXIS_FOR_THE_VENT_CO_16_DEPTH, mode=Mode.SUBTRACT)

    # pattern along y axis for the vent co 17 → pattern along y axis for the vent co 18 (cut)
    with BuildSketch(Plane(origin=(40, 18, 0), x_dir=(-1, 0, 0), z_dir=(0, 0, -1))):
        with BuildLine():
            Line((-20, 22.254248689), (-20, 15.254248689))
            ThreePointArc((-20, 15.254248689), (-21.101269167, 14.152979522), (-22.202538334, 15.254248689))
            Line((-22.202538334, 15.254248689), (-22.202538334, 22.254248689))
            ThreePointArc((-22.202538334, 22.254248689), (-21.101269167, 23.355517856), (-20, 22.254248689))
        make_face()
    extrude(amount=-PATTERN_ALONG_Y_AXIS_FOR_THE_VENT_CO_18_DEPTH, mode=Mode.SUBTRACT)

    # pattern along y axis for the vent co 19 → pattern along y axis for the vent co 20 (cut)
    with BuildSketch(Plane(origin=(40, 36, 0), x_dir=(-1, 0, 0), z_dir=(0, 0, -1))):
        with BuildLine():
            Line((-20, 22.254248689), (-20, 15.254248689))
            ThreePointArc((-20, 15.254248689), (-21.101269167, 14.152979522), (-22.202538334, 15.254248689))
            Line((-22.202538334, 15.254248689), (-22.202538334, 22.254248689))
            ThreePointArc((-22.202538334, 22.254248689), (-21.101269167, 23.355517856), (-20, 22.254248689))
        make_face()
    extrude(amount=-PATTERN_ALONG_Y_AXIS_FOR_THE_VENT_CO_20_DEPTH, mode=Mode.SUBTRACT)

    # pattern along y axis for the vent co 21 → pattern along y axis for the vent co 22 (cut)
    with BuildSketch(Plane(origin=(40, 54, 0), x_dir=(-1, 0, 0), z_dir=(0, 0, -1))):
        with BuildLine():
            Line((-20, 22.254248689), (-20, 15.254248689))
            ThreePointArc((-20, 15.254248689), (-21.101269167, 14.152979522), (-22.202538334, 15.254248689))
            Line((-22.202538334, 15.254248689), (-22.202538334, 22.254248689))
            ThreePointArc((-22.202538334, 22.254248689), (-21.101269167, 23.355517856), (-20, 22.254248689))
        make_face()
    extrude(amount=-PATTERN_ALONG_Y_AXIS_FOR_THE_VENT_CO_22_DEPTH, mode=Mode.SUBTRACT)

    # pattern along y axis for the vent co 23 → pattern along y axis for the vent co 24 (cut)
    with BuildSketch(Plane(origin=(48, 18, 0), x_dir=(-1, 0, 0), z_dir=(0, 0, -1))):
        with BuildLine():
            Line((-20, 22.254248689), (-20, 15.254248689))
            ThreePointArc((-20, 15.254248689), (-21.101269167, 14.152979522), (-22.202538334, 15.254248689))
            Line((-22.202538334, 15.254248689), (-22.202538334, 22.254248689))
            ThreePointArc((-22.202538334, 22.254248689), (-21.101269167, 23.355517856), (-20, 22.254248689))
        make_face()
    extrude(amount=-PATTERN_ALONG_Y_AXIS_FOR_THE_VENT_CO_24_DEPTH, mode=Mode.SUBTRACT)

    # pattern along y axis for the vent co 25 → pattern along y axis for the vent co 26 (cut)
    with BuildSketch(Plane(origin=(48, 36, 0), x_dir=(-1, 0, 0), z_dir=(0, 0, -1))):
        with BuildLine():
            Line((-20, 22.254248689), (-20, 15.254248689))
            ThreePointArc((-20, 15.254248689), (-21.101269167, 14.152979522), (-22.202538334, 15.254248689))
            Line((-22.202538334, 15.254248689), (-22.202538334, 22.254248689))
            ThreePointArc((-22.202538334, 22.254248689), (-21.101269167, 23.355517856), (-20, 22.254248689))
        make_face()
    extrude(amount=-PATTERN_ALONG_Y_AXIS_FOR_THE_VENT_CO_26_DEPTH, mode=Mode.SUBTRACT)

    # pattern along y axis for the vent co 27 → pattern along y axis for the vent co 28 (cut)
    with BuildSketch(Plane(origin=(48, 54, 0), x_dir=(-1, 0, 0), z_dir=(0, 0, -1))):
        with BuildLine():
            Line((-20, 22.254248689), (-20, 15.254248689))
            ThreePointArc((-20, 15.254248689), (-21.101269167, 14.152979522), (-22.202538334, 15.254248689))
            Line((-22.202538334, 15.254248689), (-22.202538334, 22.254248689))
            ThreePointArc((-22.202538334, 22.254248689), (-21.101269167, 23.355517856), (-20, 22.254248689))
        make_face()
    extrude(amount=-PATTERN_ALONG_Y_AXIS_FOR_THE_VENT_CO_28_DEPTH, mode=Mode.SUBTRACT)

    # Sketch for the small gap between the edge and the railing → small gap between the edge and the raili (cut)
    with BuildSketch(Plane.ZY):
        Polygon((0, 8.254248689), (-3, 10.9), (0, 10.9), align=None)
    small_gap_between_the_edge_and_the_raili = extrude(amount=-SMALL_GAP_BETWEEN_THE_EDGE_AND_THE_RAILI_DEPTH, mode=Mode.SUBTRACT)

    # pattern for th small gap: small gap between the edge and the raili ×4
    with Locations(*[(0, i * PATTERN_FOR_TH_SMALL_GAP_PITCH, 0) for i in range(1, PATTERN_FOR_TH_SMALL_GAP_COUNT)]):
        add(small_gap_between_the_edge_and_the_raili, mode=Mode.SUBTRACT)

    # Fillets
    fillets_edges = [part.edges().sort_by_distance(p)[0] for p in [
        (110.6, 45, 1.8),
        (0, 45, 1.8),
        (55.3, 0, 1.8),
    ]]
    fillet(fillets_edges, radius=FILLETS_R)


solid = part.part
